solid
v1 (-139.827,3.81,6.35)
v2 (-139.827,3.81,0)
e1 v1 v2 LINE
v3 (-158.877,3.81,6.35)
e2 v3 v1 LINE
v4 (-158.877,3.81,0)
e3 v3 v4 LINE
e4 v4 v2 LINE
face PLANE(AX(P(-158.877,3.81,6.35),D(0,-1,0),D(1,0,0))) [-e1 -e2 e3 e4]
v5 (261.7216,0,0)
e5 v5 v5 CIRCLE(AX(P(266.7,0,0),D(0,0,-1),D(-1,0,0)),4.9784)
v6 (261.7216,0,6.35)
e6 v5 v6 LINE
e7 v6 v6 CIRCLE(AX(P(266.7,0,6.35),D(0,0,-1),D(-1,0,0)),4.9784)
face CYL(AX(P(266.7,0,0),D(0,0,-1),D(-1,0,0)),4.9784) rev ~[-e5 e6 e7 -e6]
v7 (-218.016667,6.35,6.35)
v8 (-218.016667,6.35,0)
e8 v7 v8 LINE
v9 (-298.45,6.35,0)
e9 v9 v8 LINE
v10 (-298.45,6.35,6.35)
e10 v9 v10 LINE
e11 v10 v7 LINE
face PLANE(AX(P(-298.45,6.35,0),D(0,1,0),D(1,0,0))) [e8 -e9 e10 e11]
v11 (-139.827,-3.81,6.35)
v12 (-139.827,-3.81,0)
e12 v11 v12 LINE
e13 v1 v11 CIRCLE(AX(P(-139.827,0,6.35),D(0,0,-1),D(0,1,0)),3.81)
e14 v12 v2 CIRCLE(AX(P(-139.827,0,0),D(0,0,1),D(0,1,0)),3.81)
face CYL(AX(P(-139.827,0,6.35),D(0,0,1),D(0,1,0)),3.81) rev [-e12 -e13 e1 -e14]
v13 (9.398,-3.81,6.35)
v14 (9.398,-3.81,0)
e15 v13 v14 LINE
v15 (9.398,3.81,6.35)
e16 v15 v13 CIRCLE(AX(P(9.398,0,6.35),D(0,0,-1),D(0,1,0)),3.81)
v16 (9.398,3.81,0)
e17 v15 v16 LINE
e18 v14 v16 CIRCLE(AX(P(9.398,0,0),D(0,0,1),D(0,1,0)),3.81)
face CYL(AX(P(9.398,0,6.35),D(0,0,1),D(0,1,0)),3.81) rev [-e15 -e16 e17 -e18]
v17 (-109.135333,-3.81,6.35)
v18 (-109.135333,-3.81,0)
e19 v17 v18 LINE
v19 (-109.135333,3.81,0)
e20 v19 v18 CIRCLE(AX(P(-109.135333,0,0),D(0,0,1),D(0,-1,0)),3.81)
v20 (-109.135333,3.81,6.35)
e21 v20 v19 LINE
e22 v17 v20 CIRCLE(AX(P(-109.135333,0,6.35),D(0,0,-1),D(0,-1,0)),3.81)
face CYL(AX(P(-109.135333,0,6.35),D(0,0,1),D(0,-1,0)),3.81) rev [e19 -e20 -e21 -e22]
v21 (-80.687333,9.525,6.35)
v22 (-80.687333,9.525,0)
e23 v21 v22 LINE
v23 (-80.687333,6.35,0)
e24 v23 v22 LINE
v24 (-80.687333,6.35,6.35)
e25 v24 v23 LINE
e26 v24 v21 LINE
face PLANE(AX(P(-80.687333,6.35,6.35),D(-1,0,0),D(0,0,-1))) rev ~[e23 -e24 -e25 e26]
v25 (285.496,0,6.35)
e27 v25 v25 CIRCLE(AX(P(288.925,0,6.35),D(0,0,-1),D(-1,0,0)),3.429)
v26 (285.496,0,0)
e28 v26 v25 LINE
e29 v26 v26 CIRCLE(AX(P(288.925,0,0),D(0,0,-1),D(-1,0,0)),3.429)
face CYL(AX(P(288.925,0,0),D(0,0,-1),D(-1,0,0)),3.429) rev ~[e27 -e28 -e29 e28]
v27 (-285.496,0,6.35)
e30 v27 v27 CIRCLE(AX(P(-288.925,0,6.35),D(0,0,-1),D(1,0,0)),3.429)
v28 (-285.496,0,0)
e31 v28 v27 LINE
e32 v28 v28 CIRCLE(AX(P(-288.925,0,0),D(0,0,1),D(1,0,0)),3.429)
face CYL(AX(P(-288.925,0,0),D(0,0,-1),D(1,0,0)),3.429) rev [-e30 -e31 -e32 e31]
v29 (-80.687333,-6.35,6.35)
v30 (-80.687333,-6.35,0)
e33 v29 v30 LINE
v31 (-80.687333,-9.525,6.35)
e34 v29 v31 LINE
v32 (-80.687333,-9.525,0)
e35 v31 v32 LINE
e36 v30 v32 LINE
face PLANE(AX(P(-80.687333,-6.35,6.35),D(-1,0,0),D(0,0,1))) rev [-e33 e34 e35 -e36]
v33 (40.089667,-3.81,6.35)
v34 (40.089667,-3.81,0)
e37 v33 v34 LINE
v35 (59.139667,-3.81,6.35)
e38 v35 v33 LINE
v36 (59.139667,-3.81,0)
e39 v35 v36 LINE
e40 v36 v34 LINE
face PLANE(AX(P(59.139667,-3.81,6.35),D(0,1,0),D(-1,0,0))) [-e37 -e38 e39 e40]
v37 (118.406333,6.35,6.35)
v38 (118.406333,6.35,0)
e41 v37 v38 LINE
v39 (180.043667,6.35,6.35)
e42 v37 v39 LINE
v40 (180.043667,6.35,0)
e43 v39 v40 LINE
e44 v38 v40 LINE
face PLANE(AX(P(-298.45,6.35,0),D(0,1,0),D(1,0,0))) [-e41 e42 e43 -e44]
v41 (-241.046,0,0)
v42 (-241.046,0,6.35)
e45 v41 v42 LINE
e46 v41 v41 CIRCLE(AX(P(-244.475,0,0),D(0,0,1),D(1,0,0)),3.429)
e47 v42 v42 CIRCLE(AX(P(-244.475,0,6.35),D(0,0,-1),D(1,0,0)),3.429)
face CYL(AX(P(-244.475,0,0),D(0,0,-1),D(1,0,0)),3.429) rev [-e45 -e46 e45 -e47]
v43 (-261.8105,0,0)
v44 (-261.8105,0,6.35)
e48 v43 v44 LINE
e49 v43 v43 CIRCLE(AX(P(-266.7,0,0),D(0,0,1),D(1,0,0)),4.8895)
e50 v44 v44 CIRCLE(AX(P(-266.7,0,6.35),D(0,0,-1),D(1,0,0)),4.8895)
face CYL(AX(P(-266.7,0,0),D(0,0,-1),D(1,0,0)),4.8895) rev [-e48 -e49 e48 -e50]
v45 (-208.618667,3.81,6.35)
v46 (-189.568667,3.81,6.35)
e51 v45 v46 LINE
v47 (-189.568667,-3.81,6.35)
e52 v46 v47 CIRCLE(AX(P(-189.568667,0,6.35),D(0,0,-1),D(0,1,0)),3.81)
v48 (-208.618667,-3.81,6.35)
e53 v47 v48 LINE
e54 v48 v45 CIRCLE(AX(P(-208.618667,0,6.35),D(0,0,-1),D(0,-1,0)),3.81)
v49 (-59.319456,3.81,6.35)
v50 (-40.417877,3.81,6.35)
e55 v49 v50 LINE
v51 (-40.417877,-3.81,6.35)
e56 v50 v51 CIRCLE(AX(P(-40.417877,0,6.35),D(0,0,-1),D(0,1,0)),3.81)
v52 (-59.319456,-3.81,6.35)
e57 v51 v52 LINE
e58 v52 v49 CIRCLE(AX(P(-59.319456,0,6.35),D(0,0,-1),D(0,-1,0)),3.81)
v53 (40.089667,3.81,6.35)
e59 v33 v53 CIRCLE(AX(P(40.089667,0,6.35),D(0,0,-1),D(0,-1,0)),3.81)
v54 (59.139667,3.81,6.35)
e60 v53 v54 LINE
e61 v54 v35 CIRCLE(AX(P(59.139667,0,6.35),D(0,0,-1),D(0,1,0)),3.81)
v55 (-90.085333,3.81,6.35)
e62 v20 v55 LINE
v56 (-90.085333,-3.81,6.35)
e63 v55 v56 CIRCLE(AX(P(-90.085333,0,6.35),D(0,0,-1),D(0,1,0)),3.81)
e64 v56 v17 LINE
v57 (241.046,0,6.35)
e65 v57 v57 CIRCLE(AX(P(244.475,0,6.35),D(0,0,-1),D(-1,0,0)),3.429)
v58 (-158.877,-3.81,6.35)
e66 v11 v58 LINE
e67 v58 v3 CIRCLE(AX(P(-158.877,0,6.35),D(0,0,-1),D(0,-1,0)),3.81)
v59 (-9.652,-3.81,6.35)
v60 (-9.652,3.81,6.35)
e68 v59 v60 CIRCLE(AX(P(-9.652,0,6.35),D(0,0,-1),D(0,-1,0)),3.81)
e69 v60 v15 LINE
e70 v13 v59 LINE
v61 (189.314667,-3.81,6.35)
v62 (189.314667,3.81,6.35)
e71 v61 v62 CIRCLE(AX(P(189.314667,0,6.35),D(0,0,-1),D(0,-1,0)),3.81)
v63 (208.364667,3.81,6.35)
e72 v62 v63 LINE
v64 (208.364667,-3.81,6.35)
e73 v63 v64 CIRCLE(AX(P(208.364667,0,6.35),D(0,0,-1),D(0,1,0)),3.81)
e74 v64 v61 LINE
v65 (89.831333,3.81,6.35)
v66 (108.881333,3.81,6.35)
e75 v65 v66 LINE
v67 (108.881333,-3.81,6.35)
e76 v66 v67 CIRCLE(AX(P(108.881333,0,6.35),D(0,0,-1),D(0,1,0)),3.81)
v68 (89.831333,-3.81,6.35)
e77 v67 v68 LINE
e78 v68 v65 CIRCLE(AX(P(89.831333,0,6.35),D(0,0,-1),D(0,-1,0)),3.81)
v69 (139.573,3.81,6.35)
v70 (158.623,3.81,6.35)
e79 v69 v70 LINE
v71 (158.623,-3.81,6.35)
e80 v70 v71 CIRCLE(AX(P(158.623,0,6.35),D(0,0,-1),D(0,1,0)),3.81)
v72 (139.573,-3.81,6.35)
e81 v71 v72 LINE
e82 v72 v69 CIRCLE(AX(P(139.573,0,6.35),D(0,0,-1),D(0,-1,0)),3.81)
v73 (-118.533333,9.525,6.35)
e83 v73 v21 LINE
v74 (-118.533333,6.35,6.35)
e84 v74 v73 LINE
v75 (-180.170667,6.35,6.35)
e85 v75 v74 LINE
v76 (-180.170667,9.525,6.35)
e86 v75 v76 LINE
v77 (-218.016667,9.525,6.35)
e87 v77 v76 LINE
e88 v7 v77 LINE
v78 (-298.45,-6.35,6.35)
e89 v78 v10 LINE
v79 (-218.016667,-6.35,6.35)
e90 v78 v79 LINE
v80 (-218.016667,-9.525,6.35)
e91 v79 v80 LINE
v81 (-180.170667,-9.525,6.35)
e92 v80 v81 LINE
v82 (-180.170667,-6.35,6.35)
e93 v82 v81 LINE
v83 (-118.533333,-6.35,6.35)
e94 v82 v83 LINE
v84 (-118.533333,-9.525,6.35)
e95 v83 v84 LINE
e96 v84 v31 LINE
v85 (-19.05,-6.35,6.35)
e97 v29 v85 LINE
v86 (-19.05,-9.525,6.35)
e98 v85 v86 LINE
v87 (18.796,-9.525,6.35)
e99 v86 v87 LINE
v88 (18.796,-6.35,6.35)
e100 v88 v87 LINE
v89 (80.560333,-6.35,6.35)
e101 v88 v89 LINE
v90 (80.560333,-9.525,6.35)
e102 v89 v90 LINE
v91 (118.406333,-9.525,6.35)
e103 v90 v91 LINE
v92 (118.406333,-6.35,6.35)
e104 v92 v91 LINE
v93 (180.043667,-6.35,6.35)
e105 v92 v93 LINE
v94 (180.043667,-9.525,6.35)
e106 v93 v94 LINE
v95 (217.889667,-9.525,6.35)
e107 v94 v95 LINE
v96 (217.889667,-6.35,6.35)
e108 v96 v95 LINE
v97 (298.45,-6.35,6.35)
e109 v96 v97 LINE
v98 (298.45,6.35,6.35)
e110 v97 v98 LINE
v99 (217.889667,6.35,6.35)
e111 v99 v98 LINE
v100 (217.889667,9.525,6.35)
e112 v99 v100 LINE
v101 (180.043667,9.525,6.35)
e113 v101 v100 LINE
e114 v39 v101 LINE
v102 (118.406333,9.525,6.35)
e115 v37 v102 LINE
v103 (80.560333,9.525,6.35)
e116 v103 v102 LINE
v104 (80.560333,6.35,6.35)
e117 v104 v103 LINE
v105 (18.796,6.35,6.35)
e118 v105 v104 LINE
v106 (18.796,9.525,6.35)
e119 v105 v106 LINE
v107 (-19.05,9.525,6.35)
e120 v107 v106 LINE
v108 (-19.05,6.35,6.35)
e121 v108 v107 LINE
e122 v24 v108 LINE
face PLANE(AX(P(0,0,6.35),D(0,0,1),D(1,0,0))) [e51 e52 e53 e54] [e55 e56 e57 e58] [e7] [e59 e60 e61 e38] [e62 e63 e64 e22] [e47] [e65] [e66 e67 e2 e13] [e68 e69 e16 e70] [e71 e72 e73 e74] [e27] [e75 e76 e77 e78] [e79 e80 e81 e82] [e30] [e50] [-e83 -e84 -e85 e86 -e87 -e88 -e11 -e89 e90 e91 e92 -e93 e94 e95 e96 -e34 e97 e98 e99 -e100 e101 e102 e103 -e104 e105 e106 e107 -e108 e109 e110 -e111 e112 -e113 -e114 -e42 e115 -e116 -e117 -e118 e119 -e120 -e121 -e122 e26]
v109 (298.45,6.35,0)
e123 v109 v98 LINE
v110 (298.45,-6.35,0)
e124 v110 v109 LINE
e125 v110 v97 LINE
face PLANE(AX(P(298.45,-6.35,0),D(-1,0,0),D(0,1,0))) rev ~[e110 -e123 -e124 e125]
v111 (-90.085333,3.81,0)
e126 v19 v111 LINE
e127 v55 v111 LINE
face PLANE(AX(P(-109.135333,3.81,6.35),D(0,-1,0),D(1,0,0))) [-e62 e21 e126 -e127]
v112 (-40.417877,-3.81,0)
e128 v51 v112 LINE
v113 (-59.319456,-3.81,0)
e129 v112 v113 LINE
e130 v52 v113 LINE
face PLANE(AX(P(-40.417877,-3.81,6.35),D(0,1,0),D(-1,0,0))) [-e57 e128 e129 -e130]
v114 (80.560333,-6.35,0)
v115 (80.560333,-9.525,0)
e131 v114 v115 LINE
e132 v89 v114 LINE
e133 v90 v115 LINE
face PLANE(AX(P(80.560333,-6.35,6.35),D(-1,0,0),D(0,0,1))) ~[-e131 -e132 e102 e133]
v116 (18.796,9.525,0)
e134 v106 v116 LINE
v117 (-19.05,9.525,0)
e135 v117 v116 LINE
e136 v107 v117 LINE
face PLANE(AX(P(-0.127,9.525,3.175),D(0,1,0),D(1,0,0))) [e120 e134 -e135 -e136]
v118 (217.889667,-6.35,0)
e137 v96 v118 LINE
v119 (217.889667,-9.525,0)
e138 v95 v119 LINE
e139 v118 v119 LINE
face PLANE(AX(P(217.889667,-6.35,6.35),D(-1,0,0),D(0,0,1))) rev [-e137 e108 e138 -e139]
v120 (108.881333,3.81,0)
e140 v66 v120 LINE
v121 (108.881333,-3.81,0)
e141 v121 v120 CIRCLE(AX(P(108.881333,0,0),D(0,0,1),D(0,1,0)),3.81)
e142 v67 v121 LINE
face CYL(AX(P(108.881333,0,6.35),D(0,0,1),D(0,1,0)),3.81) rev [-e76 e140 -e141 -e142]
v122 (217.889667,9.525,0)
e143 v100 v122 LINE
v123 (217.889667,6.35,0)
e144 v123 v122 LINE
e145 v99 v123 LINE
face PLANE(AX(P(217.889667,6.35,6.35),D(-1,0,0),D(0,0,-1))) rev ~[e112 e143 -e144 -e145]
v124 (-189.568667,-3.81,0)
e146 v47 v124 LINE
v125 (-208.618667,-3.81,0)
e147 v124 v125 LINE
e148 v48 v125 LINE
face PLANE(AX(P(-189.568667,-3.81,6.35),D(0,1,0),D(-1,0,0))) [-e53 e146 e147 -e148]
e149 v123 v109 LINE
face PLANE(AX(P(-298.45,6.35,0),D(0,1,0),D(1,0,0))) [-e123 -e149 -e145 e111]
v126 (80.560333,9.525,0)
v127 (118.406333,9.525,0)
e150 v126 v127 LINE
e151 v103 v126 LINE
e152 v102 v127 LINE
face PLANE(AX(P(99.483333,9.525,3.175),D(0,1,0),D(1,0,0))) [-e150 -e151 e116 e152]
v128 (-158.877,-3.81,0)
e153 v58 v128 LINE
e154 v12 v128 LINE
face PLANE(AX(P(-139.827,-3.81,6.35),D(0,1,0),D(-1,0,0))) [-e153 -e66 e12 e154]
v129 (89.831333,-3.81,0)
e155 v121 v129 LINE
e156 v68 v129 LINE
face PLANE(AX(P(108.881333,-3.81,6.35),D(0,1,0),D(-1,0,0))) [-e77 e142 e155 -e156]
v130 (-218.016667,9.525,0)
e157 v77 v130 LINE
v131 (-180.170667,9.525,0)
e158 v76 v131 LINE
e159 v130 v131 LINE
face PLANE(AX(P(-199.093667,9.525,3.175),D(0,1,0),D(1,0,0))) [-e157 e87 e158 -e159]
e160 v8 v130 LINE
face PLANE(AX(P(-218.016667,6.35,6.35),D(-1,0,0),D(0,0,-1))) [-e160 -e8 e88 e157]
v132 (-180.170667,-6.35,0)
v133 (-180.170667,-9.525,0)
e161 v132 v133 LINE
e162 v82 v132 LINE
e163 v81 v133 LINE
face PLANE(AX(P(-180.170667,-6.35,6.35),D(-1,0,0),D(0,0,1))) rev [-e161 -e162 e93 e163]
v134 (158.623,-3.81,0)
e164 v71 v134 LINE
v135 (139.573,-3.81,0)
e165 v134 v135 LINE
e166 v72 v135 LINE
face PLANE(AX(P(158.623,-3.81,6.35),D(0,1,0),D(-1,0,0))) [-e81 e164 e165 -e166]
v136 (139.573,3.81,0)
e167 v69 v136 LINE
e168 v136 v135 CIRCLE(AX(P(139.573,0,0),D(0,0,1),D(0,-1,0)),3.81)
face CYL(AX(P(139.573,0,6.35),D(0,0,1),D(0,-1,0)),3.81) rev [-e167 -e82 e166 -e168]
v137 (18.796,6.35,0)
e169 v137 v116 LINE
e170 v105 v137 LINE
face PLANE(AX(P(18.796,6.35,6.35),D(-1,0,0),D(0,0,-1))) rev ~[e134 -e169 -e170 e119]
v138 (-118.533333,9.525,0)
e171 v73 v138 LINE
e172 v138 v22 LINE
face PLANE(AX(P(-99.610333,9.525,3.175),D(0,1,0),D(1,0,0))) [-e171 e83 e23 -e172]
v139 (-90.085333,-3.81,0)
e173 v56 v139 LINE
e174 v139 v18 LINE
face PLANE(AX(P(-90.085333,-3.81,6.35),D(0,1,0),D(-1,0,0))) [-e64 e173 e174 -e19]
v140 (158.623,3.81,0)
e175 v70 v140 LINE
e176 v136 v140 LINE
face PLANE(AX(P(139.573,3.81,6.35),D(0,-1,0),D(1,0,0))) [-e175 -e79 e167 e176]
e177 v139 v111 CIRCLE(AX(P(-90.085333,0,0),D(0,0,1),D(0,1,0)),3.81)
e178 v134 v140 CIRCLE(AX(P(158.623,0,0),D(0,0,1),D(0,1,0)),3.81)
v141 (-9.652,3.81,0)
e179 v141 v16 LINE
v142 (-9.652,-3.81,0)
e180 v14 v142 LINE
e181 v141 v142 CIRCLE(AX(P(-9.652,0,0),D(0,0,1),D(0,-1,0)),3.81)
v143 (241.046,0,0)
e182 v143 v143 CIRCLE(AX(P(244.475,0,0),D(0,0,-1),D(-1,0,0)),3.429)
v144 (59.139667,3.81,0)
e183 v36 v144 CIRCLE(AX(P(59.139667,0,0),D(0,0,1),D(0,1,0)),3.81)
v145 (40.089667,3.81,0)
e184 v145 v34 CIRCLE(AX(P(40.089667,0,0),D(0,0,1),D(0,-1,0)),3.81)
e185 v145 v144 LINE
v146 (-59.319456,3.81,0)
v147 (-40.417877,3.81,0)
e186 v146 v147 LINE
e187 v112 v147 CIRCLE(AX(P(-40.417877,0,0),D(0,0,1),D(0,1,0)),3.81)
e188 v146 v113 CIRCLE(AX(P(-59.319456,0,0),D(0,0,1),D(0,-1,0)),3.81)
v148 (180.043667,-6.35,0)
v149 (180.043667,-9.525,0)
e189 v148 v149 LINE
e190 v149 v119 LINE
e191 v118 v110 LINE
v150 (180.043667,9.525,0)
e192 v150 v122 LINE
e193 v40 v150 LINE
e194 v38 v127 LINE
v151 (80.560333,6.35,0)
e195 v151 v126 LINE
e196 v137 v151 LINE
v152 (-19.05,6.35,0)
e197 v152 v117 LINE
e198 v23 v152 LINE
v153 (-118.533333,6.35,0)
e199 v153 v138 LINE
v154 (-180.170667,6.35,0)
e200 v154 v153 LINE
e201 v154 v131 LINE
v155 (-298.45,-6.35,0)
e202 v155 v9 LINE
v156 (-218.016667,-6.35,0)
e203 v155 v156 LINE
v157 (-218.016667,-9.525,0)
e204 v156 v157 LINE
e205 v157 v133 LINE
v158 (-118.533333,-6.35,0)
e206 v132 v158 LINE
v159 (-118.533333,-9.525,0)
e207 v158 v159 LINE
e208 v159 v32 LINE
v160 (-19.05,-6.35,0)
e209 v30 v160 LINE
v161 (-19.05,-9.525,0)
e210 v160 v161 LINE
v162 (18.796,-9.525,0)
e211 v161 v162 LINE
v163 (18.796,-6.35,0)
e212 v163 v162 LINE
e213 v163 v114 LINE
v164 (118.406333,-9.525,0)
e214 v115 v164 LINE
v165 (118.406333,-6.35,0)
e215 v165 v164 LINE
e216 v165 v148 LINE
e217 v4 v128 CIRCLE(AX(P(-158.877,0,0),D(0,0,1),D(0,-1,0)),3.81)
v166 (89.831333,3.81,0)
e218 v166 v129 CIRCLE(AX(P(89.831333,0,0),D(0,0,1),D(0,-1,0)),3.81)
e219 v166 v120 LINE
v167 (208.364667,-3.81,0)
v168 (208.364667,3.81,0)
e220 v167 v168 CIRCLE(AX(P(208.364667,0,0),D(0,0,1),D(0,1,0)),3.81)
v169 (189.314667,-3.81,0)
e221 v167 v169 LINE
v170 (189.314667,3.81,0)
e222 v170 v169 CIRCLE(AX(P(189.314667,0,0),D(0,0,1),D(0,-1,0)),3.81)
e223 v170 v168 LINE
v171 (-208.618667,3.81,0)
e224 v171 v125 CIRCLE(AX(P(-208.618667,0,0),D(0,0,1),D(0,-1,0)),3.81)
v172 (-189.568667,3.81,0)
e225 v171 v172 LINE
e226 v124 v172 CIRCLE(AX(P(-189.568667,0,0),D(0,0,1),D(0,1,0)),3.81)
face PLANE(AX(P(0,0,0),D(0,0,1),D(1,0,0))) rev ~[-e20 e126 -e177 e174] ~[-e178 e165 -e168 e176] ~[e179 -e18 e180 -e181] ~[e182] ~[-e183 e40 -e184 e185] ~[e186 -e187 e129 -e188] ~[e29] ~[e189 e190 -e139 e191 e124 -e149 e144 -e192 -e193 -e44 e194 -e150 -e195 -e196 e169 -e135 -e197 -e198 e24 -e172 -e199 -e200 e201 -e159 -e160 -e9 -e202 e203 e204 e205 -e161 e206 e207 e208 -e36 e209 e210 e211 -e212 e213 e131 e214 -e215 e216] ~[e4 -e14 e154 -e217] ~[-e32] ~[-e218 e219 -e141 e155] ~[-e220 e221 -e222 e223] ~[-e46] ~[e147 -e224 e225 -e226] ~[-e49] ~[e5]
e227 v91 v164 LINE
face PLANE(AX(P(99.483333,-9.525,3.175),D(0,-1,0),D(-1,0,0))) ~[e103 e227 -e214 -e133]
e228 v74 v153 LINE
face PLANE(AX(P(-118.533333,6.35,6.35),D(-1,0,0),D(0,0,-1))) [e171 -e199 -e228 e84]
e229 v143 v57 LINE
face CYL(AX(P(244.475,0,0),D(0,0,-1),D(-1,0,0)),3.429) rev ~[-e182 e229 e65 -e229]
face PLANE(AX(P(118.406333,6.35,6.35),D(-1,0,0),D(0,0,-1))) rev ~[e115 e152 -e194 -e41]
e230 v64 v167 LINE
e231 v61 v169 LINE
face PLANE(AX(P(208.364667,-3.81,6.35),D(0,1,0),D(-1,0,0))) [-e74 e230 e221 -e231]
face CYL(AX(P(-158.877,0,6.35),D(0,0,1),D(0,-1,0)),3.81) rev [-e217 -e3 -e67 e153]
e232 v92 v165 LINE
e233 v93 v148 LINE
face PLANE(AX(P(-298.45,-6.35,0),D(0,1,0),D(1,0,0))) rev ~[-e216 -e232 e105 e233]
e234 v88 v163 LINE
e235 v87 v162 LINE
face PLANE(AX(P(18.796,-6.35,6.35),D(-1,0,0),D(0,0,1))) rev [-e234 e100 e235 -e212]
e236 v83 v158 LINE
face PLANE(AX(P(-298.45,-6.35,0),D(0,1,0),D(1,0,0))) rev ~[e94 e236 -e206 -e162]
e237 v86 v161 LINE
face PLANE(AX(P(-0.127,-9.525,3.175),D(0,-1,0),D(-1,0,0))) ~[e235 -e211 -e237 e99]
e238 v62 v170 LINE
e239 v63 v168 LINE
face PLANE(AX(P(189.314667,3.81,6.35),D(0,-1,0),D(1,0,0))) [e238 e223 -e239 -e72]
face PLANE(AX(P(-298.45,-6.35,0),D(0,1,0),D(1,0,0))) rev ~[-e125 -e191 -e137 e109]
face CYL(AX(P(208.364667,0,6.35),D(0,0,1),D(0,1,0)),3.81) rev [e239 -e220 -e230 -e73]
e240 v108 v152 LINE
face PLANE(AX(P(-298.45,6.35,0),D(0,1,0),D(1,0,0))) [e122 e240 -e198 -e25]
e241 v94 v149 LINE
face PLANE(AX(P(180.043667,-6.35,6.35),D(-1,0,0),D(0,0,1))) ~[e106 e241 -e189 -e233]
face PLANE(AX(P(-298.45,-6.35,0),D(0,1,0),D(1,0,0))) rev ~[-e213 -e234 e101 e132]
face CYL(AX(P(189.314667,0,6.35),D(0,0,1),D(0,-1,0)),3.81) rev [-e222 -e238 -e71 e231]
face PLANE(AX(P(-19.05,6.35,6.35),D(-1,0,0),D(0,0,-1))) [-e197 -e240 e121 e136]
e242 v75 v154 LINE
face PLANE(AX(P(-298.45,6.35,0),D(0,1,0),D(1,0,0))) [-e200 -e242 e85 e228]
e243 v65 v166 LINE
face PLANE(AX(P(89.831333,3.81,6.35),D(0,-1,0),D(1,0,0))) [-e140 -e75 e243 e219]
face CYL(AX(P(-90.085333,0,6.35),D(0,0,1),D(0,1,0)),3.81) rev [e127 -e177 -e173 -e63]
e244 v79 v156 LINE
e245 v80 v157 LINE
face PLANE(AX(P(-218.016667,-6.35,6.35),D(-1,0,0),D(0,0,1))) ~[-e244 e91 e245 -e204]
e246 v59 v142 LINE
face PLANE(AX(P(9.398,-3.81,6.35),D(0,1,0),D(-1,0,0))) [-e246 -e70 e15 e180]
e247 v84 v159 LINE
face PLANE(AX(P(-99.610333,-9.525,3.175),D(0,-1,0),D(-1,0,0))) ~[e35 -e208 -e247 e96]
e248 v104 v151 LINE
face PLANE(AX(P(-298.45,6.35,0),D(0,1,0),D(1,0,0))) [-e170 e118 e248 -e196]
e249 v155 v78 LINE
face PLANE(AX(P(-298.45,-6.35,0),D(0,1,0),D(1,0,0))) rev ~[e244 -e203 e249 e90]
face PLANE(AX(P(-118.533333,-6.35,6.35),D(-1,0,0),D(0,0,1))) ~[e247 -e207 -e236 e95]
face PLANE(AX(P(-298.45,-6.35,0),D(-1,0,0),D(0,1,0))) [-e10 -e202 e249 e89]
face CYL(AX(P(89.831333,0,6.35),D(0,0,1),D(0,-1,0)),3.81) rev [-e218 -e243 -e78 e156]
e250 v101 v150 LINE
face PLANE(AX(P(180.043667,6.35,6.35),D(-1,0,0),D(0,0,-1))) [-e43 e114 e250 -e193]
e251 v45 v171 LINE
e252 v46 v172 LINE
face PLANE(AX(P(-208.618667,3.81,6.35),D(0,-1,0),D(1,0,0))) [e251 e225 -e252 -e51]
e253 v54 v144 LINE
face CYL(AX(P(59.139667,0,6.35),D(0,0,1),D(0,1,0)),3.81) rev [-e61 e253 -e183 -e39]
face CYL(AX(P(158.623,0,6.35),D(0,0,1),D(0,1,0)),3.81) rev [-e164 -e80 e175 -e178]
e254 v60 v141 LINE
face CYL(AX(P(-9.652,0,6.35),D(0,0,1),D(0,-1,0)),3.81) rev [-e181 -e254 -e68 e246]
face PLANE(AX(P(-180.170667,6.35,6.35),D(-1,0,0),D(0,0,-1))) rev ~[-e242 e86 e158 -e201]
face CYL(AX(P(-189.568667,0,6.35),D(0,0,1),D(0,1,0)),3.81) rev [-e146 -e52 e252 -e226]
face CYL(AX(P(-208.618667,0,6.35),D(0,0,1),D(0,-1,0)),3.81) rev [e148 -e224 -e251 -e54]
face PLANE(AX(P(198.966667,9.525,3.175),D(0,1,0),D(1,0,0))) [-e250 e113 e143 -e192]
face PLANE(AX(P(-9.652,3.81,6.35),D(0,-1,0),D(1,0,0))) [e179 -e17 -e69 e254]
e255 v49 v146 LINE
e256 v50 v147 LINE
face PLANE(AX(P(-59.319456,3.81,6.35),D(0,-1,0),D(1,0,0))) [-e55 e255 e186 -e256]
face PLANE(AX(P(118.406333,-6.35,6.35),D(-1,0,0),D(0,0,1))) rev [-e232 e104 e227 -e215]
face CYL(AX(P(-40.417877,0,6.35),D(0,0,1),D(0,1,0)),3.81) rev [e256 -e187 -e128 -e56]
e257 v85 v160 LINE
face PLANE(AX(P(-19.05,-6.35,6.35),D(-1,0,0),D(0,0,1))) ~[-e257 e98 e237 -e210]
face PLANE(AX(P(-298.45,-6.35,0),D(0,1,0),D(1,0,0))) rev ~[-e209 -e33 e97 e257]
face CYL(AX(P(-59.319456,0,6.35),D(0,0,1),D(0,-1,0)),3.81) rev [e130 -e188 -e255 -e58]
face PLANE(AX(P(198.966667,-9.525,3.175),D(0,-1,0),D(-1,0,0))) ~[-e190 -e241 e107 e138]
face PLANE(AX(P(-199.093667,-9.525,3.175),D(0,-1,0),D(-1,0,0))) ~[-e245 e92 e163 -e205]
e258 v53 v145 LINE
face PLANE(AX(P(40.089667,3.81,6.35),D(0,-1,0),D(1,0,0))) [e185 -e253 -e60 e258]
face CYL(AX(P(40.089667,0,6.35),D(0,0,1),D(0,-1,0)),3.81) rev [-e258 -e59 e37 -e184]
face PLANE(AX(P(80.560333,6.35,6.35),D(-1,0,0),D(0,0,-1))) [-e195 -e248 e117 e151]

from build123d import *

# Parameters (mm, degrees)
SKETCH1_W           = 596.9
SKETCH1_H           = 12.7
BOSS_EXTRUDE1_DEPTH = 6.35
SKETCH3_W           = 37.846
SKETCH3_H           = 6.35
BOSS_EXTRUDE2_DEPTH = 3.175
SKETCH4_R           = 3.429
SKETCH4_R_2         = 4.8895
CUT_EXTRUDE1_DEPTH  = 299.669467179
SKETCH5_R           = 4.9784
CUT_EXTRUDE2_DEPTH  = 299.669467179
CUT_EXTRUDE3_DEPTH  = 299.669467179


with BuildPart() as part:
    # Sketch1 → Boss-Extrude1 (new body)
    with BuildSketch(Plane.XY):
        Rectangle(SKETCH1_W, SKETCH1_H)
    extrude(amount=BOSS_EXTRUDE1_DEPTH)

    # Sketch3 → Boss-Extrude2 (add)
    with BuildSketch(Plane(origin=(0, 6.35, 0), x_dir=(1, 0, 0), z_dir=(0, 1, 0))):
        with Locations((-199.093666667, -3.175)):
            Rectangle(SKETCH3_W, SKETCH3_H)
        with Locations((-99.610333333, -3.175)):
            Rectangle(SKETCH3_W, SKETCH3_H)
        with Locations((-0.127, -3.175)):
            Rectangle(SKETCH3_W, SKETCH3_H)
        with Locations((99.483333333, -3.175)):
            Rectangle(SKETCH3_W, SKETCH3_H)
        with Locations((198.966666751, -3.175)):
            Rectangle(SKETCH3_W, SKETCH3_H)
    boss_extrude2 = extrude(amount=BOSS_EXTRUDE2_DEPTH)

    # Mirror1: Boss-Extrude2 across plane
    add(boss_extrude2.mirror(Plane.ZX))

    # Sketch4 → Cut-Extrude1 (cut, through all)
    with BuildSketch(Plane(origin=(0, 0, 0), x_dir=(-1, 0, 0), z_dir=(0, 0, -1))):
        with Locations((-288.925, 0)):
            Circle(SKETCH4_R)
        with Locations((-244.475, 0)):
            Circle(SKETCH4_R)
        with Locations((-266.7, 0)):
            Circle(SKETCH4_R_2)
    cut_extrude1 = extrude(amount=-CUT_EXTRUDE1_DEPTH, mode=Mode.SUBTRACT)

    # Mirror2: Cut-Extrude1 across plane
    add(cut_extrude1.mirror(Plane(origin=(0, 0, 0), x_dir=(0, 0, 1), z_dir=(1, 0, 0))), mode=Mode.SUBTRACT)

    # Sketch5 → Cut-Extrude2 (cut, through all)
    with BuildSketch(Plane(origin=(0, 0, 0), x_dir=(-1, 0, 0), z_dir=(0, 0, -1))):
        with Locations((-266.7, 0)):
            Circle(SKETCH5_R)
    extrude(amount=-CUT_EXTRUDE2_DEPTH, mode=Mode.SUBTRACT)

    # Sketch6 → Cut-Extrude3 (cut, through all)
    with BuildSketch(Plane.XY.offset(6.35)):
        with BuildLine():
            Line((-208.618666667, 3.81), (-189.568666667, 3.81))
            ThreePointArc((-189.568666667, 3.81), (-185.758666667, 0), (-189.568666667, -3.81))
            Line((-189.568666667, -3.81), (-208.618666667, -3.81))
            ThreePointArc((-208.618666667, -3.81), (-212.428666667, 0), (-208.618666667, 3.81))
        make_face()
        with BuildLine():
            Line((-109.135333333, 3.81), (-90.085333333, 3.81))
            ThreePointArc((-90.085333333, 3.81), (-86.275333333, 0), (-90.085333333, -3.81))
            Line((-90.085333333, -3.81), (-109.135333333, -3.81))
            ThreePointArc((-109.135333333, -3.81), (-112.945333333, 0), (-109.135333333, 3.81))
        make_face()
        with BuildLine():
            Line((-9.652, 3.81), (9.398, 3.81))
            ThreePointArc((9.398, 3.81), (13.208, 0), (9.398, -3.81))
            Line((9.398, -3.81), (-9.652, -3.81))
            ThreePointArc((-9.652, -3.81), (-13.462, 0), (-9.652, 3.81))
        make_face()
        with BuildLine():
            Line((89.831333333, 3.81), (108.881333333, 3.81))
            ThreePointArc((108.881333333, 3.81), (112.691333333, 0), (108.881333333, -3.81))
            Line((108.881333333, -3.81), (89.831333333, -3.81))
            ThreePointArc((89.831333333, -3.81), (86.021333333, 0), (89.831333333, 3.81))
        make_face()
        with BuildLine():
            Line((189.314666667, 3.81), (208.364666667, 3.81))
            ThreePointArc((208.364666667, 3.81), (212.174666667, 0), (208.364666667, -3.81))
            Line((208.364666667, -3.81), (189.314666667, -3.81))
            ThreePointArc((189.314666667, -3.81), (185.504666667, 0), (189.314666667, 3.81))
        make_face()
        with BuildLine():
            Line((-158.877, 3.81), (-139.827, 3.81))
            ThreePointArc((-139.827, 3.81), (-136.017, 0), (-139.827, -3.81))
            Line((-139.827, -3.81), (-158.877, -3.81))
            ThreePointArc((-158.877, -3.81), (-162.687, 0), (-158.877, 3.81))
        make_face()
        with BuildLine():
            Line((-59.319456458, 3.81), (-40.417876875, 3.81))
            ThreePointArc((-40.417876875, 3.81), (-36.607876875, 0), (-40.417876875, -3.81))
            Line((-40.417876875, -3.81), (-59.319456458, -3.81))
            ThreePointArc((-59.319456458, -3.81), (-63.129456458, 0), (-59.319456458, 3.81))
        make_face()
        with BuildLine():
            Line((40.089666667, 3.81), (59.139666667, 3.81))
            ThreePointArc((59.139666667, 3.81), (62.949666667, 0), (59.139666667, -3.81))
            Line((59.139666667, -3.81), (40.089666667, -3.81))
            ThreePointArc((40.089666667, -3.81), (36.279666667, 0), (40.089666667, 3.81))
        make_face()
        with BuildLine():
            Line((139.573, 3.81), (158.623, 3.81))
            ThreePointArc((158.623, 3.81), (162.433, 0), (158.623, -3.81))
            Line((158.623, -3.81), (139.573, -3.81))
            ThreePointArc((139.573, -3.81), (135.763, 0), (139.573, 3.81))
        make_face()
    extrude(amount=-CUT_EXTRUDE3_DEPTH, mode=Mode.SUBTRACT)


solid = part.part
